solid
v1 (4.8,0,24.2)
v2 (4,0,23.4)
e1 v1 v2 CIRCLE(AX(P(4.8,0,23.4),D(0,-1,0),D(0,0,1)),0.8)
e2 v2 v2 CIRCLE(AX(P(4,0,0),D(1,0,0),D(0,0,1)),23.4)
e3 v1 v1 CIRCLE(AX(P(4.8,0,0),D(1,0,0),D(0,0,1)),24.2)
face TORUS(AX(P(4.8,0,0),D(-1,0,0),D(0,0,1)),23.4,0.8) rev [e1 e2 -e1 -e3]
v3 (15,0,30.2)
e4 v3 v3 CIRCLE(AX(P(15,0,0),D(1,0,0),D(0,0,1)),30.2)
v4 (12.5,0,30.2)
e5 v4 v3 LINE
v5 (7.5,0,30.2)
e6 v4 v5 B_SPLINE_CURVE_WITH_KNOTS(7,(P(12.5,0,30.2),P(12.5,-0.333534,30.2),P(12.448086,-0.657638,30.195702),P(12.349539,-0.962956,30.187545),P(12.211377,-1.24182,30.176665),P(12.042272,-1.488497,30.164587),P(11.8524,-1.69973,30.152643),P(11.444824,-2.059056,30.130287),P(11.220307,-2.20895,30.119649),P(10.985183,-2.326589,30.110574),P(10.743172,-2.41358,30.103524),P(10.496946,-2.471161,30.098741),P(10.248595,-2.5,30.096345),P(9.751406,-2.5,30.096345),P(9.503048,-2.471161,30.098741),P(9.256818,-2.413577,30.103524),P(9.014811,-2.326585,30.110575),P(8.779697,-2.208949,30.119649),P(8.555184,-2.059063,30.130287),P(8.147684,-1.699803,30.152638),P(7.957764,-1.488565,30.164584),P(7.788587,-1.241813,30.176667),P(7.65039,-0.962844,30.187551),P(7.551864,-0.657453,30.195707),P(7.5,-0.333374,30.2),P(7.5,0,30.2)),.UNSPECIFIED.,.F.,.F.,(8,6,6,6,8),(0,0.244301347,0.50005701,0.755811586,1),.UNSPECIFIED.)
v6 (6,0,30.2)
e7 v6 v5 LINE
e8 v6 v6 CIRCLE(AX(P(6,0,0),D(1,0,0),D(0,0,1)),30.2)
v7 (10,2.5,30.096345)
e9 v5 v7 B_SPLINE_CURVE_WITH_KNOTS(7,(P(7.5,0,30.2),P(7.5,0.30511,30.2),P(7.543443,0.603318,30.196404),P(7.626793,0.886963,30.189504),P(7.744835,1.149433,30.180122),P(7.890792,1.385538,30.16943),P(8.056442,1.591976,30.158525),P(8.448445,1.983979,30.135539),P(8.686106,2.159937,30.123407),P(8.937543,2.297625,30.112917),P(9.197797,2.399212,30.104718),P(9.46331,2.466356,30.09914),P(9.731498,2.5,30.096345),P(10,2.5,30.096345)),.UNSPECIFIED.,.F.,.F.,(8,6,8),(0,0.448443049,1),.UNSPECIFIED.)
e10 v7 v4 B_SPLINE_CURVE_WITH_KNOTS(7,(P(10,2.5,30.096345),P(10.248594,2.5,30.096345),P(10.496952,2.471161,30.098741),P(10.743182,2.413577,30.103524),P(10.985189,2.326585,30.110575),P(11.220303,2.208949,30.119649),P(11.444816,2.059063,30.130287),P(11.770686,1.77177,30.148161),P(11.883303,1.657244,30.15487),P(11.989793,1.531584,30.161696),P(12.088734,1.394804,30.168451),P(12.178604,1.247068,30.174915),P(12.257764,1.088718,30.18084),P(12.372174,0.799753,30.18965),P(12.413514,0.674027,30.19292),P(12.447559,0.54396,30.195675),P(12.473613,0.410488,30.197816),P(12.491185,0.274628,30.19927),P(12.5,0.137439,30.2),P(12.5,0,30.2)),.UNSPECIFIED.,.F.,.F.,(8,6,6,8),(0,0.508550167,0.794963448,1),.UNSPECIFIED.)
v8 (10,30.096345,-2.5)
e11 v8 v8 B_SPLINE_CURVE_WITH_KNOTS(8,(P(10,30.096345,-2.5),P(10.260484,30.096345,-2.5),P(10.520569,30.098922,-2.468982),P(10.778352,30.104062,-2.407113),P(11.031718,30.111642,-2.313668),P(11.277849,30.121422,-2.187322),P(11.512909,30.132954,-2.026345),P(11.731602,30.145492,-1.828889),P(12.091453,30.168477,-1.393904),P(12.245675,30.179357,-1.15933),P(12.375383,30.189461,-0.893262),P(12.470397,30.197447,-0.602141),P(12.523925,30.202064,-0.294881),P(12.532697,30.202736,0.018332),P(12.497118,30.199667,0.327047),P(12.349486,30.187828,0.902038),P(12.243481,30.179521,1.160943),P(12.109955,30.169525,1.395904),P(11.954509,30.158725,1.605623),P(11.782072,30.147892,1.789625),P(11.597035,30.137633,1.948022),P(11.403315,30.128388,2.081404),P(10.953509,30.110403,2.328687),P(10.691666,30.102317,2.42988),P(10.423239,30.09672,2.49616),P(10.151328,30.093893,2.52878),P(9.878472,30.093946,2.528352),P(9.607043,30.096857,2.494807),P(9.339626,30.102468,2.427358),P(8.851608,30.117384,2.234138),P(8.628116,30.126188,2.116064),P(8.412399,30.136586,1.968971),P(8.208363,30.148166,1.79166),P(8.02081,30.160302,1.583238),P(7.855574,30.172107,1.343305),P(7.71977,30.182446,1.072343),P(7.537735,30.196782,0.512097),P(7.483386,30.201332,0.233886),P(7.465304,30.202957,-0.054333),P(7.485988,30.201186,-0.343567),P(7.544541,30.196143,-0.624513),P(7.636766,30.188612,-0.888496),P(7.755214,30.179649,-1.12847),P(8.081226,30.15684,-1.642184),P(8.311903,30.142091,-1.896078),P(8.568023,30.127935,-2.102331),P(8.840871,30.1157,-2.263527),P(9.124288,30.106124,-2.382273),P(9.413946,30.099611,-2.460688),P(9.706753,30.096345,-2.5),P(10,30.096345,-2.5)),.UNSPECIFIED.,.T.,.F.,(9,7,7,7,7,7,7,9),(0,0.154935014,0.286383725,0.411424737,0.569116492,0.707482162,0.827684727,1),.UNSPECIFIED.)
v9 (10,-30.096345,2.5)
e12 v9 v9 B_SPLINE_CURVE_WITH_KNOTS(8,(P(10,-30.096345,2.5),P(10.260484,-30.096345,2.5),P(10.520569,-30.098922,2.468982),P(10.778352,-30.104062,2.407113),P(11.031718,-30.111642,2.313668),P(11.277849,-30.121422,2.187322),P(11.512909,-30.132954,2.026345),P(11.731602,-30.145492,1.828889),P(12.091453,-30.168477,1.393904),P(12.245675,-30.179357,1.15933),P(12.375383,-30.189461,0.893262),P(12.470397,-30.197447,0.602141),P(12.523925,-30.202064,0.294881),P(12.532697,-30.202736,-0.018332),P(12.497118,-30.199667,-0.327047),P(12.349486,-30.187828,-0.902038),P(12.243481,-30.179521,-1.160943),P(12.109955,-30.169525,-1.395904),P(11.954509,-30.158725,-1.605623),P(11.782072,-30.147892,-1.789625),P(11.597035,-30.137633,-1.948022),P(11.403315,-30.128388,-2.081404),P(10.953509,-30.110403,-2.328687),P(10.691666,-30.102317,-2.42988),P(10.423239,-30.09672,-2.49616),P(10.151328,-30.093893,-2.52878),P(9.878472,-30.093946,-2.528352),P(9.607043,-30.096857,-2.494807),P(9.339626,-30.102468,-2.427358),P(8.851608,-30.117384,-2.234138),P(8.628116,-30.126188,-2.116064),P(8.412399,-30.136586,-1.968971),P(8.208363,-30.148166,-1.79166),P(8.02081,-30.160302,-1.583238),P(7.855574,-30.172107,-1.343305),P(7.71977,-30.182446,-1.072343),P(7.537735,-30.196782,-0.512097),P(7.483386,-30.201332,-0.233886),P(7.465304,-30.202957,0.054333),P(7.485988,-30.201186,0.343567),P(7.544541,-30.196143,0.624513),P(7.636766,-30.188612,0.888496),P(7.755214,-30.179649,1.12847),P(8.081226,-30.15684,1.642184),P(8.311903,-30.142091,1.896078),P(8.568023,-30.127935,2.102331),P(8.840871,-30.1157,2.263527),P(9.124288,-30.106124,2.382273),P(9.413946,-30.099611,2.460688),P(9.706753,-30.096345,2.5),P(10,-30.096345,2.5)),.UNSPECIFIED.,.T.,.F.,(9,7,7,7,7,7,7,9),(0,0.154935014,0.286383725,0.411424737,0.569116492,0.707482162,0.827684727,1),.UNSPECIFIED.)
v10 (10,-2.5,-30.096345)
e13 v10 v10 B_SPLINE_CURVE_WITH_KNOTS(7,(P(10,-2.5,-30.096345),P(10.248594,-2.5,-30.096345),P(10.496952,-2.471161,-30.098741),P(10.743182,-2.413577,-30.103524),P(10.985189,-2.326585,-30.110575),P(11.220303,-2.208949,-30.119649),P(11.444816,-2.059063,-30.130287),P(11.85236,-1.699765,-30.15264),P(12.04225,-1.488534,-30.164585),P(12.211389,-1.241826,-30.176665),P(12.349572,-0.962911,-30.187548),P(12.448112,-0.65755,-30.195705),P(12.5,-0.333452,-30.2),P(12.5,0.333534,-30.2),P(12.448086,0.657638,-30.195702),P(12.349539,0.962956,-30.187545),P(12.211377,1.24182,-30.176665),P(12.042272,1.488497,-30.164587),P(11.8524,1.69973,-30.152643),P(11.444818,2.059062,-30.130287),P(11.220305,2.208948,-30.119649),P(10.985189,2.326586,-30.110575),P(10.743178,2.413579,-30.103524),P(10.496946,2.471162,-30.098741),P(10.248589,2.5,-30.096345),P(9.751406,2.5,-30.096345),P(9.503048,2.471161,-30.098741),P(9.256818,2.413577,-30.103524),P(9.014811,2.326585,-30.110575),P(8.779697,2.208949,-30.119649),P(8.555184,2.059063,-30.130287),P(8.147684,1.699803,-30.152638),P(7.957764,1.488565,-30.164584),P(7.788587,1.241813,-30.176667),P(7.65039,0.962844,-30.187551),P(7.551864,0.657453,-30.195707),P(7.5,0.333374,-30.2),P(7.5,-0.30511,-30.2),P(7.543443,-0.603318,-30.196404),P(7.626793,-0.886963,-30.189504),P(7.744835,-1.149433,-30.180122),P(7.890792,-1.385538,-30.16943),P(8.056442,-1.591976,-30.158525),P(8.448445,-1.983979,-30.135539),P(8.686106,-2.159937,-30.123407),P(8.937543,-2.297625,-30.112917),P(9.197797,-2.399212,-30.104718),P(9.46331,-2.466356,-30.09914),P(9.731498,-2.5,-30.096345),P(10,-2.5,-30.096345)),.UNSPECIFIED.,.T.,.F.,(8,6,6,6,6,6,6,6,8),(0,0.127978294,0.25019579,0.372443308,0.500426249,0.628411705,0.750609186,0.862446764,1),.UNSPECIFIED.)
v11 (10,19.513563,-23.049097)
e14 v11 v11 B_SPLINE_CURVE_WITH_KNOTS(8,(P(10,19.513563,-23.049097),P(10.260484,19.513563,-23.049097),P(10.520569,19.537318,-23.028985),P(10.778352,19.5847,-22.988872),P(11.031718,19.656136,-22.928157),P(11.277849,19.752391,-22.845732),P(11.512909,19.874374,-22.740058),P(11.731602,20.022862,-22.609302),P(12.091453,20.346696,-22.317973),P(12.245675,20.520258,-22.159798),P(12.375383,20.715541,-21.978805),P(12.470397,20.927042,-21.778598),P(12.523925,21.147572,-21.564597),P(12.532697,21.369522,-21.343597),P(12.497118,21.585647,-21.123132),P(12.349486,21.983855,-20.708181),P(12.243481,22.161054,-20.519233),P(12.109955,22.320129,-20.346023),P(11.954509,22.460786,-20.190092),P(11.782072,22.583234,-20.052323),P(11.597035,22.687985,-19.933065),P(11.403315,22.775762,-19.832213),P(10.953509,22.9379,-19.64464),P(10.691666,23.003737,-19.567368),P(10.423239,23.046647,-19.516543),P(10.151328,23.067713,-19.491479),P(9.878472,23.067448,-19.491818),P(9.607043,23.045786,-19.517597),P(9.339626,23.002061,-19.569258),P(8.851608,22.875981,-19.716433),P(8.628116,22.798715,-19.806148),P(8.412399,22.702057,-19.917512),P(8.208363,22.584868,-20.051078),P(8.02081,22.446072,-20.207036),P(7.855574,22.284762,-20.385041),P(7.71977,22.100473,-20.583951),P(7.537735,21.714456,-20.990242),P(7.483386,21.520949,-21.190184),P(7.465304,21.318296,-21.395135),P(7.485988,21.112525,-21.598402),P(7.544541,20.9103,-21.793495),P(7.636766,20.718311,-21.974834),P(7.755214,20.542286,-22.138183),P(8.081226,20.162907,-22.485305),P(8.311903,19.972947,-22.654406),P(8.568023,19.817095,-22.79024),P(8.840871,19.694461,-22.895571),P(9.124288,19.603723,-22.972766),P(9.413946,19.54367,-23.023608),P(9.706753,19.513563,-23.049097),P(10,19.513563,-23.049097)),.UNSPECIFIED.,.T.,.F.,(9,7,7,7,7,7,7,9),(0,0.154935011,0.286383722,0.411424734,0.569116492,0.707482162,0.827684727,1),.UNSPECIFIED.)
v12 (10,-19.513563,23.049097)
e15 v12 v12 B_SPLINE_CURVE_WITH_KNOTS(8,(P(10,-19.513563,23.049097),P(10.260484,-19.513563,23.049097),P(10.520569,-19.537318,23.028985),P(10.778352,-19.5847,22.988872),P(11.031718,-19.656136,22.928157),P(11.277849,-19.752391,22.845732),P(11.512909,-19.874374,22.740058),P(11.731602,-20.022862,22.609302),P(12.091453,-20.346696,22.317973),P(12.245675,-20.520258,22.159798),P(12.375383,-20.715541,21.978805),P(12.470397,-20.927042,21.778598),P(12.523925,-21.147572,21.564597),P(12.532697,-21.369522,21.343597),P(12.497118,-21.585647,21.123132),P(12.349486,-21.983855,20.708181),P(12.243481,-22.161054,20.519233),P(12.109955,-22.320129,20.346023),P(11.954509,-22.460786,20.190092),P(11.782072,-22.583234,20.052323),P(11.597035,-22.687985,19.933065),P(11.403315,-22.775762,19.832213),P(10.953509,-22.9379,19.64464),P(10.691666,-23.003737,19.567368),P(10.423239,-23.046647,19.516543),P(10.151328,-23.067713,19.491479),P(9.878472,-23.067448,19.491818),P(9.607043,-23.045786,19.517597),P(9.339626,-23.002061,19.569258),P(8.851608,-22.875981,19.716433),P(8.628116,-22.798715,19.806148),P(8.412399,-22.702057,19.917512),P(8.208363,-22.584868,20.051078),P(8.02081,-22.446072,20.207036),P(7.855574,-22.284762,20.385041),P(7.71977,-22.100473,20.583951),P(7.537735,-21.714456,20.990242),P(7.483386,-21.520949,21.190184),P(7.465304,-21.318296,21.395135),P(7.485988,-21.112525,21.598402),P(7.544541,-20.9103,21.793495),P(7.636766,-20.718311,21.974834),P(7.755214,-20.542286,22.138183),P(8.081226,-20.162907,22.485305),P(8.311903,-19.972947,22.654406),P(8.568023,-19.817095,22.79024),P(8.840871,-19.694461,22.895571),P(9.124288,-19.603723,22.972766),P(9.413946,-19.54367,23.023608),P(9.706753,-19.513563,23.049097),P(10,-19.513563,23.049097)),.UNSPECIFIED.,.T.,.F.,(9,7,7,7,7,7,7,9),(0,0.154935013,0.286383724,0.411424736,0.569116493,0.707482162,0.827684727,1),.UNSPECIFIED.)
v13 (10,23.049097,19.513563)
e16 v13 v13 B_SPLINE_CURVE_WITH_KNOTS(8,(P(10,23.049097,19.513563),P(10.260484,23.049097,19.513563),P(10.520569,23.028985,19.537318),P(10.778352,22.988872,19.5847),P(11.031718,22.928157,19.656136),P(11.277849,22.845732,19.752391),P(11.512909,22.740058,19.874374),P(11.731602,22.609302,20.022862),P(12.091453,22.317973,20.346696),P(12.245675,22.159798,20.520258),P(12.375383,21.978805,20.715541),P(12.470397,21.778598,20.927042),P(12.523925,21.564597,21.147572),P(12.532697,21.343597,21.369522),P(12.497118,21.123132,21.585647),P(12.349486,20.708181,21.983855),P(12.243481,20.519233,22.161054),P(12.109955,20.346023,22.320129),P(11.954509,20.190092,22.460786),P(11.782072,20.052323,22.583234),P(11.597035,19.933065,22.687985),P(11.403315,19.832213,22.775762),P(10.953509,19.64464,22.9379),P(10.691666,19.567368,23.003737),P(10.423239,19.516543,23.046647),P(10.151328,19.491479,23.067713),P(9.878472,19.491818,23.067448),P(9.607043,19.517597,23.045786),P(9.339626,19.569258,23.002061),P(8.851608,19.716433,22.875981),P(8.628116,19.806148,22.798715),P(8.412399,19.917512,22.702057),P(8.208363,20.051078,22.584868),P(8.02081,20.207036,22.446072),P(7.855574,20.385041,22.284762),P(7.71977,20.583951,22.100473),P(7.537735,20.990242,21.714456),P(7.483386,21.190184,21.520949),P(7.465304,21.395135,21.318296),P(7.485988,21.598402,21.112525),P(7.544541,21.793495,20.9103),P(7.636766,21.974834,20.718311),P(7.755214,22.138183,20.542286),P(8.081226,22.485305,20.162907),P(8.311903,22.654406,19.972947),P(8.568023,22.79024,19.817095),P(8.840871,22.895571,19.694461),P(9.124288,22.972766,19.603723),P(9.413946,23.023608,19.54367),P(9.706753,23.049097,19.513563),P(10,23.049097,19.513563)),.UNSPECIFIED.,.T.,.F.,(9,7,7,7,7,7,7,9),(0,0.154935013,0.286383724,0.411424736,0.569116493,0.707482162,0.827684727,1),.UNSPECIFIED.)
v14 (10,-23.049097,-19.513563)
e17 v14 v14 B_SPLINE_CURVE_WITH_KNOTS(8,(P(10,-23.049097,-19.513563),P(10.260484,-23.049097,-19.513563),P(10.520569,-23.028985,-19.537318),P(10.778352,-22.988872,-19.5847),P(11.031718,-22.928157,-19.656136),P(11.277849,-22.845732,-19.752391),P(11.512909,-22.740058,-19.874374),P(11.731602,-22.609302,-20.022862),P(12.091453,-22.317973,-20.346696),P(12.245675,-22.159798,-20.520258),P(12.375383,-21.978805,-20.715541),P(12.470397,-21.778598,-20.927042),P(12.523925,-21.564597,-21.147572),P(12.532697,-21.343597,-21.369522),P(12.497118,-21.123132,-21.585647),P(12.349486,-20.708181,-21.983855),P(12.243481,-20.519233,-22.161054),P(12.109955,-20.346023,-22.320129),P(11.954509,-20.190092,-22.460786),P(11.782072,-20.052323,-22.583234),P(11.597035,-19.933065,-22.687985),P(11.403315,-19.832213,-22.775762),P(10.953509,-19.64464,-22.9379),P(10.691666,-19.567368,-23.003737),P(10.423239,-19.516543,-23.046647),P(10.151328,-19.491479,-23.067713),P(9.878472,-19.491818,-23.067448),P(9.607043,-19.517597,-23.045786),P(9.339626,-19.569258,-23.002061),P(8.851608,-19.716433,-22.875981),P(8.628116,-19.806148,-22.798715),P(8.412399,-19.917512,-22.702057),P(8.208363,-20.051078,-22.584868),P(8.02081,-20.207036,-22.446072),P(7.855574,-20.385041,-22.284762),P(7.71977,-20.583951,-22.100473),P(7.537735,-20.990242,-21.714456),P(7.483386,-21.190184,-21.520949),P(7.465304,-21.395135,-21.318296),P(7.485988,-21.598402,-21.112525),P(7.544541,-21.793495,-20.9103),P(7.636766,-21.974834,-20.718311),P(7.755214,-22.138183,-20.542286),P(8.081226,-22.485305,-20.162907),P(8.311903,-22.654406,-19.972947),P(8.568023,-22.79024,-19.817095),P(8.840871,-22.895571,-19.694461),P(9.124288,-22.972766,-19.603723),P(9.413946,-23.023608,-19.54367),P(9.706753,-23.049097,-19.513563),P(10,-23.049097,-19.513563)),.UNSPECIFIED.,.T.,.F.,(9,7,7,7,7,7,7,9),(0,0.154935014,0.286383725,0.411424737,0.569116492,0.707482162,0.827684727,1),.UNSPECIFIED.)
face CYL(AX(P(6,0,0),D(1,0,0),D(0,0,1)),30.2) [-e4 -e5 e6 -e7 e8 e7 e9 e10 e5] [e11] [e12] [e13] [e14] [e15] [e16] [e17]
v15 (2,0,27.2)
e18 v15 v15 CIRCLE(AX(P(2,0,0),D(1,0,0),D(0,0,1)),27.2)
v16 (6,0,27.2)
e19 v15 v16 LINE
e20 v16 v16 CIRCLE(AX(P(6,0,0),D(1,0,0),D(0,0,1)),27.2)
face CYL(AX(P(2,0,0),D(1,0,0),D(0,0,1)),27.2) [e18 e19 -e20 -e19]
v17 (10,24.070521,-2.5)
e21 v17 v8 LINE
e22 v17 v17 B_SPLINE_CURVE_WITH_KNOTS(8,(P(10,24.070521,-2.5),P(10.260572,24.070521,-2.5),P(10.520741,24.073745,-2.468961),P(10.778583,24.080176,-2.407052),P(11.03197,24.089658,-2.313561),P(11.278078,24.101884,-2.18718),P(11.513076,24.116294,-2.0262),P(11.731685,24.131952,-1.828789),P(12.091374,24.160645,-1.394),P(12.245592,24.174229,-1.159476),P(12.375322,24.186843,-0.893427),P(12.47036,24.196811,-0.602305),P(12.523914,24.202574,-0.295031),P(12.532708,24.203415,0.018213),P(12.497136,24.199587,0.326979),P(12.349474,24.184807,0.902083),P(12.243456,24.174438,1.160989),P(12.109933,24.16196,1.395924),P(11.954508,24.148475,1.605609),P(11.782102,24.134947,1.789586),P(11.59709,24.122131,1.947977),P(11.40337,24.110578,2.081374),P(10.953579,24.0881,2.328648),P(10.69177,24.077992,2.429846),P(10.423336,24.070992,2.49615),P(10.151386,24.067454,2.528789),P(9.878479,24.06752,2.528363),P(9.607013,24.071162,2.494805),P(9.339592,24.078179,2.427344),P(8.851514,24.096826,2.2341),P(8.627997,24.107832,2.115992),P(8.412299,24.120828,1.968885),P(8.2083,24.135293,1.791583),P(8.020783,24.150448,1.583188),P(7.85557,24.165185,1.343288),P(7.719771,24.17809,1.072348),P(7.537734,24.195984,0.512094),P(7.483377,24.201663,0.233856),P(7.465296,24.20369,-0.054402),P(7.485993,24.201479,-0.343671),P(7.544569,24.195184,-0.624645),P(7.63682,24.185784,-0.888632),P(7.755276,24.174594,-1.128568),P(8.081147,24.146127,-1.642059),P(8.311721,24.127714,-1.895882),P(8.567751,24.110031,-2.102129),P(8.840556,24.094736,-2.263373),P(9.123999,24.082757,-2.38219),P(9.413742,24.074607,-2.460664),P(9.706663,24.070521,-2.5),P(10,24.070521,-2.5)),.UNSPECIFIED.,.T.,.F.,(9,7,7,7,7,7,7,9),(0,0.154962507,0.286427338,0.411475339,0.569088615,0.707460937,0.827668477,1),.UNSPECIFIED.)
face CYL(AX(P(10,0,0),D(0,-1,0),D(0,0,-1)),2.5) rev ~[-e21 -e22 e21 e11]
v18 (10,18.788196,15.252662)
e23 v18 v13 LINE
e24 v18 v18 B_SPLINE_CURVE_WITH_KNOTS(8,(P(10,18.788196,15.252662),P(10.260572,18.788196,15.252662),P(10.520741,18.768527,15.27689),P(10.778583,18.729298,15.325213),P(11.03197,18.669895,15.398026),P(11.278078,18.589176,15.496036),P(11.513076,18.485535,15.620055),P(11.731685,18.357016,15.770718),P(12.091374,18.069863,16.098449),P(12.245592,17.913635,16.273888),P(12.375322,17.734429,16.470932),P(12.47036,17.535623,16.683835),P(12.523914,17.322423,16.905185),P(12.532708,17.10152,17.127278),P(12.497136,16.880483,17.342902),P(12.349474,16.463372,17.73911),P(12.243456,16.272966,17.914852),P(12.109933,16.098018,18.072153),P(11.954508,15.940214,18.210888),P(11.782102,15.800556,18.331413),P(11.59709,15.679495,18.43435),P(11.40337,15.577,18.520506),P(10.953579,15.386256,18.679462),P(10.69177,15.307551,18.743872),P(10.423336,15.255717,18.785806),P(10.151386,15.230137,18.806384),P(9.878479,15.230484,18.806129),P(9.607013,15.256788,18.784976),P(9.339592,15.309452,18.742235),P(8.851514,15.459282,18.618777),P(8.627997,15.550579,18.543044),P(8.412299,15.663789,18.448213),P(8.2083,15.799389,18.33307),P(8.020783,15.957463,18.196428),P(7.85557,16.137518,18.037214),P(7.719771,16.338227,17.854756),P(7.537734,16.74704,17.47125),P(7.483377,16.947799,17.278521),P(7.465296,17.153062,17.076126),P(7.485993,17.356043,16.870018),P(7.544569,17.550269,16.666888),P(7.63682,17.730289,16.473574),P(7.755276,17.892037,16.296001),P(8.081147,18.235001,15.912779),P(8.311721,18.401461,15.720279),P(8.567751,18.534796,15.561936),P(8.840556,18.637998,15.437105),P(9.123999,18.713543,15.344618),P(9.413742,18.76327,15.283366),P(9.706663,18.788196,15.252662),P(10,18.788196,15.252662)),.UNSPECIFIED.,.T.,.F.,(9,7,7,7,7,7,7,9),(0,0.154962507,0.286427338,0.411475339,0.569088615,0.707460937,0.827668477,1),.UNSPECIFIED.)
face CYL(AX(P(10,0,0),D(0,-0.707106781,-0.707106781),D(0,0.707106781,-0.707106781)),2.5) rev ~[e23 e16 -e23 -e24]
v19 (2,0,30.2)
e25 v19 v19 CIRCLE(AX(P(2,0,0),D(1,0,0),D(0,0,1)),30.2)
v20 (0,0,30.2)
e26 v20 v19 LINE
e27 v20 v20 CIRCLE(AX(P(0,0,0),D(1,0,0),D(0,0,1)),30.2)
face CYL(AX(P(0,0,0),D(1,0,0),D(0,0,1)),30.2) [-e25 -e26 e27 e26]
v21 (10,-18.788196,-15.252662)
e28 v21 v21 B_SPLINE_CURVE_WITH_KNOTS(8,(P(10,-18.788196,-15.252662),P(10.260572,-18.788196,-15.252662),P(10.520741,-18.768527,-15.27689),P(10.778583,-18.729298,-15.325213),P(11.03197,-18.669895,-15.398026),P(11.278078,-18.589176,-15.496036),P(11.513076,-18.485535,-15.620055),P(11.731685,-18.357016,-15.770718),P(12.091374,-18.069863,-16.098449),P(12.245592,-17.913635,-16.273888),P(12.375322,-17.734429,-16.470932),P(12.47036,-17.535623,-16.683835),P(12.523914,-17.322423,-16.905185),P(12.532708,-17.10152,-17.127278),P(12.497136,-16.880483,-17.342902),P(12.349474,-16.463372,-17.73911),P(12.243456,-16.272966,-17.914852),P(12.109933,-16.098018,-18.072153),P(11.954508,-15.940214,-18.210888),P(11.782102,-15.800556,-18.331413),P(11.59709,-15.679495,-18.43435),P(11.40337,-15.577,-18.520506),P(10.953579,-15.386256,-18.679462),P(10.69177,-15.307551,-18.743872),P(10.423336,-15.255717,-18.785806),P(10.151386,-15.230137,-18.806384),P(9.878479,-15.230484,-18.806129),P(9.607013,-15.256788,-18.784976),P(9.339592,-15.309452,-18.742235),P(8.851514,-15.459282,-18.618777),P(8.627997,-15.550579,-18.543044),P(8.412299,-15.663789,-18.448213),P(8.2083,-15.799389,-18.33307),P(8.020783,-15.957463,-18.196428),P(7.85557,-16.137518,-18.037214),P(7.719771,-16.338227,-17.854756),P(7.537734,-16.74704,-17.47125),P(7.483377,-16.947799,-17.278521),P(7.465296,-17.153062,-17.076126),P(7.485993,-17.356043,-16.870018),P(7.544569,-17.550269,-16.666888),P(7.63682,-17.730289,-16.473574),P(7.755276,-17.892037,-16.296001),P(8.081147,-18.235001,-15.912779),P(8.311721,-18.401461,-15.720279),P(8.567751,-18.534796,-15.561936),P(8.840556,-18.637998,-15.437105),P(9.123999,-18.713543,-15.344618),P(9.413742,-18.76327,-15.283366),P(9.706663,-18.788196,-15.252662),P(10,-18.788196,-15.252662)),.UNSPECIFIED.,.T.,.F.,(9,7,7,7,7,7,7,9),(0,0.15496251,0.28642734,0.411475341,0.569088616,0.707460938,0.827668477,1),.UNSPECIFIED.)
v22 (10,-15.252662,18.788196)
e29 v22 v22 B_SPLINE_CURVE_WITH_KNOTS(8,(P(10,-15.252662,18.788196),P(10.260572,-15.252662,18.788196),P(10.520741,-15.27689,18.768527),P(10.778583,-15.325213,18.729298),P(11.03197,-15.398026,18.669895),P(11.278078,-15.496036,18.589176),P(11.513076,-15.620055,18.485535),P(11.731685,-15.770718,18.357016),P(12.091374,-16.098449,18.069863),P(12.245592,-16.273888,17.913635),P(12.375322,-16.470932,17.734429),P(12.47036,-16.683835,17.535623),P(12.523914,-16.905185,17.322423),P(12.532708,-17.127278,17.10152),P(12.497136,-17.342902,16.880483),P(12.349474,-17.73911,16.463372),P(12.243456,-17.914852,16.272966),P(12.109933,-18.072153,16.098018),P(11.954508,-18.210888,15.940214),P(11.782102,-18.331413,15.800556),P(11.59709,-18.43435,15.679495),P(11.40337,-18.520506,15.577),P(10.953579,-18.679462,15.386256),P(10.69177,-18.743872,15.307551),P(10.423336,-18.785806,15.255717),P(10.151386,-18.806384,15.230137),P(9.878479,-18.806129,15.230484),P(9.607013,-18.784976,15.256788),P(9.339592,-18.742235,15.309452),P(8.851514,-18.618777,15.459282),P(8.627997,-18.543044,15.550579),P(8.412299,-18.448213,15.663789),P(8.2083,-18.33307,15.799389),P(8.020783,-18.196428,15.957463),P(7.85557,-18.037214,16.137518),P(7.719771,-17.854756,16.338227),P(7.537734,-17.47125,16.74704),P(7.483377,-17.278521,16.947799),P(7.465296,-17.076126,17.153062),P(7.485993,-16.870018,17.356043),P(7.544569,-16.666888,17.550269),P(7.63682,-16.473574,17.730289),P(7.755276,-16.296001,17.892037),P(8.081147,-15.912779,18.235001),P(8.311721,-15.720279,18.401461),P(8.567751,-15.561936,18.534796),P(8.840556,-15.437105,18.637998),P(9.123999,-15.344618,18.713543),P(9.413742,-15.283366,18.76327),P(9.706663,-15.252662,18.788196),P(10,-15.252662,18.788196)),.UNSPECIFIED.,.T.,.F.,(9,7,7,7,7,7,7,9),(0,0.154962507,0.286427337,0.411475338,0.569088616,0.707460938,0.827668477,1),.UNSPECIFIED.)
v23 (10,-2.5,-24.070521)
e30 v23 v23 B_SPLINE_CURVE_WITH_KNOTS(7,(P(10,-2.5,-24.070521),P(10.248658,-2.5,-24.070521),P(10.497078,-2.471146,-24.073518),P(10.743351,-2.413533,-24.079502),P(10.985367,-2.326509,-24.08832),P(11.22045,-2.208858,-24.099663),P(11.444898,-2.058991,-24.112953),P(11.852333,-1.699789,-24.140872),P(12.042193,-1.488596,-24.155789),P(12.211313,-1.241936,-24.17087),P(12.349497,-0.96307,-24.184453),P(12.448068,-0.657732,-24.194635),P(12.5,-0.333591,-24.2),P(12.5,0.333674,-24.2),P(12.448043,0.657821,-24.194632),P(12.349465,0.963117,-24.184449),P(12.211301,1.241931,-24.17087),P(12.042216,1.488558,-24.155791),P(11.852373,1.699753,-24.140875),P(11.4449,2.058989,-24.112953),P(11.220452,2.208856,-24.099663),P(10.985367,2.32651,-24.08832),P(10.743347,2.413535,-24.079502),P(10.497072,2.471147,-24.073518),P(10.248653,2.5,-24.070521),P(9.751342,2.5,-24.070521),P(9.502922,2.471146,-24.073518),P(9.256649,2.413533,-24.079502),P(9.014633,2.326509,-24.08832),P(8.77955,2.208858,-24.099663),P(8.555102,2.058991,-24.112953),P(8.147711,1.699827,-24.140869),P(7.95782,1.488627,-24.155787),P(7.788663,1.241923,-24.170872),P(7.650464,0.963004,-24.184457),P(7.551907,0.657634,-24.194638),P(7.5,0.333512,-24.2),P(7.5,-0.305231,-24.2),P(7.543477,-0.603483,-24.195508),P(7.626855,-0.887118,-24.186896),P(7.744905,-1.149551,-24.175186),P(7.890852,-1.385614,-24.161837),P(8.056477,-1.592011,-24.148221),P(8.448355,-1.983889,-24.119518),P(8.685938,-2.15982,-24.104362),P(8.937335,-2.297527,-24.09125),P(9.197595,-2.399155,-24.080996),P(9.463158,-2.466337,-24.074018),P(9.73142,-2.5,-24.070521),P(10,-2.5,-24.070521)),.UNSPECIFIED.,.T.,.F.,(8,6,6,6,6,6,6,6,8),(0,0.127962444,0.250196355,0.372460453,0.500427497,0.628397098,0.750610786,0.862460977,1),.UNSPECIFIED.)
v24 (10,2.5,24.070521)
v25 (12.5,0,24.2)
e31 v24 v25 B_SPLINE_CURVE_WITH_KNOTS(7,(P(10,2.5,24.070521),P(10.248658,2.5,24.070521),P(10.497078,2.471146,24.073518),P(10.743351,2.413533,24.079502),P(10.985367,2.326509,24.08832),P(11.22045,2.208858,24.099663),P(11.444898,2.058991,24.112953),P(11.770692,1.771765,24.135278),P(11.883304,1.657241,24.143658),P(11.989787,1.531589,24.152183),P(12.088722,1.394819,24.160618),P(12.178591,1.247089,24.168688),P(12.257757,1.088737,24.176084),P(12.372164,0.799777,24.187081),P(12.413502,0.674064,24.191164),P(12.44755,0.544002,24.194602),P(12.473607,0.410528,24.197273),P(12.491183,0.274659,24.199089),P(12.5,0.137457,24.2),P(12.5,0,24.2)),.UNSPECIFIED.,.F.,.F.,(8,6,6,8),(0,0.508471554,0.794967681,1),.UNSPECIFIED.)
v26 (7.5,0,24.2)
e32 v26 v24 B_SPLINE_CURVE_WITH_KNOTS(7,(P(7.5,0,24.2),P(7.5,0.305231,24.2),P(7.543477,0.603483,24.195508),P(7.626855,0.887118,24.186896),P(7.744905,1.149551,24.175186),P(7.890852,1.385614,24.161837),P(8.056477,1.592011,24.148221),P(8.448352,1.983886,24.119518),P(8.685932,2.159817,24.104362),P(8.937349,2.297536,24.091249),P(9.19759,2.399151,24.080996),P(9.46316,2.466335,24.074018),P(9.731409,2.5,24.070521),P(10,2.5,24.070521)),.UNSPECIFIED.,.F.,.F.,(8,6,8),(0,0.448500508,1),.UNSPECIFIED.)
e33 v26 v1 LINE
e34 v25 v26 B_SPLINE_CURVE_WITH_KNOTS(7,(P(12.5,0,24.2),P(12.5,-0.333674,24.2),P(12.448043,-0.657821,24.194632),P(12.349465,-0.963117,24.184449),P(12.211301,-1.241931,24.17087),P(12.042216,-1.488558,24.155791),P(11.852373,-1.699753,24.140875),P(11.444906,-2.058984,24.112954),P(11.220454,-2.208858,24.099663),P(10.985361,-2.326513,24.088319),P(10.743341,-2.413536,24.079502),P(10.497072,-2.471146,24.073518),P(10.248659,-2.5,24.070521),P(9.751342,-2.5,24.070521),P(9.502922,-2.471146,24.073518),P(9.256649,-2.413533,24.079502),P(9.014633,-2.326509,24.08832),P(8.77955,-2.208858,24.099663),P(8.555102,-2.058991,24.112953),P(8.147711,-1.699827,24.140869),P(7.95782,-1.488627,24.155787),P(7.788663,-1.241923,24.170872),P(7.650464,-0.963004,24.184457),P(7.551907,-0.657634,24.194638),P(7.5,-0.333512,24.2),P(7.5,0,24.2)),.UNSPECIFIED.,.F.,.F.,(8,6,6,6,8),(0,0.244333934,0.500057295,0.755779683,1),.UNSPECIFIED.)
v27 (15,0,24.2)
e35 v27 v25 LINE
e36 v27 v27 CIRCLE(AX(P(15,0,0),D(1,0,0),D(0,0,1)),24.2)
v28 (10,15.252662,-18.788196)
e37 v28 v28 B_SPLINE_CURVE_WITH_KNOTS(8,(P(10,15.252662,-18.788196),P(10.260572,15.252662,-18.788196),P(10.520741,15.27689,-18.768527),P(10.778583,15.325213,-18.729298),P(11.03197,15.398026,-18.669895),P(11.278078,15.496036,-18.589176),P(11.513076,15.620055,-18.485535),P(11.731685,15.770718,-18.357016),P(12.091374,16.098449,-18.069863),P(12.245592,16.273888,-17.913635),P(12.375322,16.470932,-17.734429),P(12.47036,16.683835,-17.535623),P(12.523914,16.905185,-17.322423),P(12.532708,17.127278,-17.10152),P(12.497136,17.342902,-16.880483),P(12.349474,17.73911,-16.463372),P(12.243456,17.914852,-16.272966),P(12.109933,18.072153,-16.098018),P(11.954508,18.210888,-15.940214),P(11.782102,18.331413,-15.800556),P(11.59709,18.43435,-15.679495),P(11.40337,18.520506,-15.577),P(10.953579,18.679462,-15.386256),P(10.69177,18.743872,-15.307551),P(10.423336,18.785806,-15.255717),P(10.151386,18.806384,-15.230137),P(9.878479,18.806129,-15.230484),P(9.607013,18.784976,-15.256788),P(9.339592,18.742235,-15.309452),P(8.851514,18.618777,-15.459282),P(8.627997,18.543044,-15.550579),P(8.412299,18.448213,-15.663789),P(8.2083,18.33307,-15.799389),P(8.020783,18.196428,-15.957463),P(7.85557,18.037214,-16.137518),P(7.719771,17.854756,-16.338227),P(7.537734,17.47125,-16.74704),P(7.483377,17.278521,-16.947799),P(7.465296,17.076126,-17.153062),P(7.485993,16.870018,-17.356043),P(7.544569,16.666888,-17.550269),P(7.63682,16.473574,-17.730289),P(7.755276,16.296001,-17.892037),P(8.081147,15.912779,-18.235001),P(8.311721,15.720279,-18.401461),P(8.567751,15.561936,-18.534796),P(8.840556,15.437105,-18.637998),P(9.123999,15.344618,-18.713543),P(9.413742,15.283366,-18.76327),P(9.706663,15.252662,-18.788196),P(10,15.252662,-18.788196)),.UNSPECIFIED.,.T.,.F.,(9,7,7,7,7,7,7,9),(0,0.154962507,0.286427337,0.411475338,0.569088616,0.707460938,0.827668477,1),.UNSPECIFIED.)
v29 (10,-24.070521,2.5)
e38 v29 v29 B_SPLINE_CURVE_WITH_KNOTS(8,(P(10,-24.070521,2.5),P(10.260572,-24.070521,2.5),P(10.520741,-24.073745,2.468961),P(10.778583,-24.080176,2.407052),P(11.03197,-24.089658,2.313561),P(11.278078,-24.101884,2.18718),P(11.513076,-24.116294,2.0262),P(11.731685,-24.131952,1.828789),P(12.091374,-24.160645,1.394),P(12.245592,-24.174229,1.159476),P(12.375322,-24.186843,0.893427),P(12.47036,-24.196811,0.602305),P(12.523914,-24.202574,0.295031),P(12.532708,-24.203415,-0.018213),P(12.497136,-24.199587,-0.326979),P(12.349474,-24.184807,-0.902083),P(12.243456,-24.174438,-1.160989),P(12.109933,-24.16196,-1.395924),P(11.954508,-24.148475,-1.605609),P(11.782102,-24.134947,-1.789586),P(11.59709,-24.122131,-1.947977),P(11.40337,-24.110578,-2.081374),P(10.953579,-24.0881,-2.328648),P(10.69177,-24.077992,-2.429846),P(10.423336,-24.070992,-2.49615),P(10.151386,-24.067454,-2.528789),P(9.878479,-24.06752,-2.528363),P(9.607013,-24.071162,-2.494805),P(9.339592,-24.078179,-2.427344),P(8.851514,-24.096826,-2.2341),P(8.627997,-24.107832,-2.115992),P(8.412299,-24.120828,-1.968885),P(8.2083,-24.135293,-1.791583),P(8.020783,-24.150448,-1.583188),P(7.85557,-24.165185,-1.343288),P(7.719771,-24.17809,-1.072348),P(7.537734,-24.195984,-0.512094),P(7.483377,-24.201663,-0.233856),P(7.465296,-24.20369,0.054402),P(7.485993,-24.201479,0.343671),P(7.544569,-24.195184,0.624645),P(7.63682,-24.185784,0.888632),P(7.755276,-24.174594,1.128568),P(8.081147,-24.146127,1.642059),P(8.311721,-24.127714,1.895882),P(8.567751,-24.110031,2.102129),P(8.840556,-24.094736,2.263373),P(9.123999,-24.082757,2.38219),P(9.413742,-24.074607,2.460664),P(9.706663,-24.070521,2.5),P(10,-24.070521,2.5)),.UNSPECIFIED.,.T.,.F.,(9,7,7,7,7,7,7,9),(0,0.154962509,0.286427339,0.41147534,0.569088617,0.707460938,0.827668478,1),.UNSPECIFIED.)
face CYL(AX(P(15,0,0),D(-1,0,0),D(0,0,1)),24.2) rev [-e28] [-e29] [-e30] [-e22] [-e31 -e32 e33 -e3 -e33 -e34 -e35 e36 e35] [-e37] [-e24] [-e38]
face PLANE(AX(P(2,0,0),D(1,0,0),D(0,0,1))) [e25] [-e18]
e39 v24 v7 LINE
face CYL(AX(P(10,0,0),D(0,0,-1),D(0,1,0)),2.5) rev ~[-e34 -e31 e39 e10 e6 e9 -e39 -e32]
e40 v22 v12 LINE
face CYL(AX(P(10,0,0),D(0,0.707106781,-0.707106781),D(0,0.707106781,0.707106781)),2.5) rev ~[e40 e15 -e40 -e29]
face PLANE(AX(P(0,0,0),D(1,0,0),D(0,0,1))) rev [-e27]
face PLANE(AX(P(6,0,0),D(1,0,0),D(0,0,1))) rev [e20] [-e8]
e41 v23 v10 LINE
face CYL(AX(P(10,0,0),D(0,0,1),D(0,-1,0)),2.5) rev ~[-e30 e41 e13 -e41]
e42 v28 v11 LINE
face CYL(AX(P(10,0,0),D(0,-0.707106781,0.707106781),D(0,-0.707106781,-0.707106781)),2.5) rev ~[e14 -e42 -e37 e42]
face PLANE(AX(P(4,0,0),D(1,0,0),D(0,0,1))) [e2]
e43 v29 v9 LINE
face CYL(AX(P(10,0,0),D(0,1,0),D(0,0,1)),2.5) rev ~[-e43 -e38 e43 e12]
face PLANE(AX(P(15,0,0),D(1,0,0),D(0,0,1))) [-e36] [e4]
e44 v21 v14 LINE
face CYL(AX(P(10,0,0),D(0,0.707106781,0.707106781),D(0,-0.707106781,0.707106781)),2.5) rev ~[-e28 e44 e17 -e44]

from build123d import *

# Parameters (mm, degrees)
SKETCH2_R          = 2.5
CUT_EXTRUDE1_DEPTH = 100
CIRPATTERN1_COUNT  = 8
FILLET1_R          = 0.8


with BuildPart() as part:
    # Sketch1 → Revolve1 (revolve)
    with BuildSketch(Plane(origin=(0, 0, 0), x_dir=(1, 0, 0), z_dir=(0, 1, 0)), mode=Mode.PRIVATE) as revolve1_sk:
        Polygon((0, 0), (0, 30.2), (2, 30.2), (2, 27.2), (6, 27.2), (6, 30.2), (15, 30.2), (15, 24.2), (4, 24.2), (4, 0), align=None)
    revolve(revolve1_sk.sketch.rotate(Axis((0, 0, 0), (1, 0, 0)), 180), axis=Axis((0, 0, 0), (1, 0, 0)))

    # Sketch2 → Cut-Extrude1 (cut)
    with BuildSketch(Plane(origin=(0, 0, 0), x_dir=(1, 0, 0), z_dir=(0, 1, 0))):
        with Locations(Location((10, 0, 0), (0, 0, 270))):
            Circle(SKETCH2_R)
    cut_extrude1 = extrude(amount=-CUT_EXTRUDE1_DEPTH, mode=Mode.SUBTRACT)

    # CirPattern1: Cut-Extrude1 ×8 about axis
    cirpattern1_axis = Axis((4, 0, 0), (1, 0, 0))
    for i in range(1, CIRPATTERN1_COUNT):
        add(cut_extrude1.rotate(cirpattern1_axis, i * 360 / CIRPATTERN1_COUNT), mode=Mode.SUBTRACT)

    # Fillet1
    fillet1_edges = [part.edges().sort_by_distance(p)[0] for p in [
        (4, 0, -24.2),
    ]]
    fillet(fillet1_edges, radius=FILLET1_R)


solid = part.part
